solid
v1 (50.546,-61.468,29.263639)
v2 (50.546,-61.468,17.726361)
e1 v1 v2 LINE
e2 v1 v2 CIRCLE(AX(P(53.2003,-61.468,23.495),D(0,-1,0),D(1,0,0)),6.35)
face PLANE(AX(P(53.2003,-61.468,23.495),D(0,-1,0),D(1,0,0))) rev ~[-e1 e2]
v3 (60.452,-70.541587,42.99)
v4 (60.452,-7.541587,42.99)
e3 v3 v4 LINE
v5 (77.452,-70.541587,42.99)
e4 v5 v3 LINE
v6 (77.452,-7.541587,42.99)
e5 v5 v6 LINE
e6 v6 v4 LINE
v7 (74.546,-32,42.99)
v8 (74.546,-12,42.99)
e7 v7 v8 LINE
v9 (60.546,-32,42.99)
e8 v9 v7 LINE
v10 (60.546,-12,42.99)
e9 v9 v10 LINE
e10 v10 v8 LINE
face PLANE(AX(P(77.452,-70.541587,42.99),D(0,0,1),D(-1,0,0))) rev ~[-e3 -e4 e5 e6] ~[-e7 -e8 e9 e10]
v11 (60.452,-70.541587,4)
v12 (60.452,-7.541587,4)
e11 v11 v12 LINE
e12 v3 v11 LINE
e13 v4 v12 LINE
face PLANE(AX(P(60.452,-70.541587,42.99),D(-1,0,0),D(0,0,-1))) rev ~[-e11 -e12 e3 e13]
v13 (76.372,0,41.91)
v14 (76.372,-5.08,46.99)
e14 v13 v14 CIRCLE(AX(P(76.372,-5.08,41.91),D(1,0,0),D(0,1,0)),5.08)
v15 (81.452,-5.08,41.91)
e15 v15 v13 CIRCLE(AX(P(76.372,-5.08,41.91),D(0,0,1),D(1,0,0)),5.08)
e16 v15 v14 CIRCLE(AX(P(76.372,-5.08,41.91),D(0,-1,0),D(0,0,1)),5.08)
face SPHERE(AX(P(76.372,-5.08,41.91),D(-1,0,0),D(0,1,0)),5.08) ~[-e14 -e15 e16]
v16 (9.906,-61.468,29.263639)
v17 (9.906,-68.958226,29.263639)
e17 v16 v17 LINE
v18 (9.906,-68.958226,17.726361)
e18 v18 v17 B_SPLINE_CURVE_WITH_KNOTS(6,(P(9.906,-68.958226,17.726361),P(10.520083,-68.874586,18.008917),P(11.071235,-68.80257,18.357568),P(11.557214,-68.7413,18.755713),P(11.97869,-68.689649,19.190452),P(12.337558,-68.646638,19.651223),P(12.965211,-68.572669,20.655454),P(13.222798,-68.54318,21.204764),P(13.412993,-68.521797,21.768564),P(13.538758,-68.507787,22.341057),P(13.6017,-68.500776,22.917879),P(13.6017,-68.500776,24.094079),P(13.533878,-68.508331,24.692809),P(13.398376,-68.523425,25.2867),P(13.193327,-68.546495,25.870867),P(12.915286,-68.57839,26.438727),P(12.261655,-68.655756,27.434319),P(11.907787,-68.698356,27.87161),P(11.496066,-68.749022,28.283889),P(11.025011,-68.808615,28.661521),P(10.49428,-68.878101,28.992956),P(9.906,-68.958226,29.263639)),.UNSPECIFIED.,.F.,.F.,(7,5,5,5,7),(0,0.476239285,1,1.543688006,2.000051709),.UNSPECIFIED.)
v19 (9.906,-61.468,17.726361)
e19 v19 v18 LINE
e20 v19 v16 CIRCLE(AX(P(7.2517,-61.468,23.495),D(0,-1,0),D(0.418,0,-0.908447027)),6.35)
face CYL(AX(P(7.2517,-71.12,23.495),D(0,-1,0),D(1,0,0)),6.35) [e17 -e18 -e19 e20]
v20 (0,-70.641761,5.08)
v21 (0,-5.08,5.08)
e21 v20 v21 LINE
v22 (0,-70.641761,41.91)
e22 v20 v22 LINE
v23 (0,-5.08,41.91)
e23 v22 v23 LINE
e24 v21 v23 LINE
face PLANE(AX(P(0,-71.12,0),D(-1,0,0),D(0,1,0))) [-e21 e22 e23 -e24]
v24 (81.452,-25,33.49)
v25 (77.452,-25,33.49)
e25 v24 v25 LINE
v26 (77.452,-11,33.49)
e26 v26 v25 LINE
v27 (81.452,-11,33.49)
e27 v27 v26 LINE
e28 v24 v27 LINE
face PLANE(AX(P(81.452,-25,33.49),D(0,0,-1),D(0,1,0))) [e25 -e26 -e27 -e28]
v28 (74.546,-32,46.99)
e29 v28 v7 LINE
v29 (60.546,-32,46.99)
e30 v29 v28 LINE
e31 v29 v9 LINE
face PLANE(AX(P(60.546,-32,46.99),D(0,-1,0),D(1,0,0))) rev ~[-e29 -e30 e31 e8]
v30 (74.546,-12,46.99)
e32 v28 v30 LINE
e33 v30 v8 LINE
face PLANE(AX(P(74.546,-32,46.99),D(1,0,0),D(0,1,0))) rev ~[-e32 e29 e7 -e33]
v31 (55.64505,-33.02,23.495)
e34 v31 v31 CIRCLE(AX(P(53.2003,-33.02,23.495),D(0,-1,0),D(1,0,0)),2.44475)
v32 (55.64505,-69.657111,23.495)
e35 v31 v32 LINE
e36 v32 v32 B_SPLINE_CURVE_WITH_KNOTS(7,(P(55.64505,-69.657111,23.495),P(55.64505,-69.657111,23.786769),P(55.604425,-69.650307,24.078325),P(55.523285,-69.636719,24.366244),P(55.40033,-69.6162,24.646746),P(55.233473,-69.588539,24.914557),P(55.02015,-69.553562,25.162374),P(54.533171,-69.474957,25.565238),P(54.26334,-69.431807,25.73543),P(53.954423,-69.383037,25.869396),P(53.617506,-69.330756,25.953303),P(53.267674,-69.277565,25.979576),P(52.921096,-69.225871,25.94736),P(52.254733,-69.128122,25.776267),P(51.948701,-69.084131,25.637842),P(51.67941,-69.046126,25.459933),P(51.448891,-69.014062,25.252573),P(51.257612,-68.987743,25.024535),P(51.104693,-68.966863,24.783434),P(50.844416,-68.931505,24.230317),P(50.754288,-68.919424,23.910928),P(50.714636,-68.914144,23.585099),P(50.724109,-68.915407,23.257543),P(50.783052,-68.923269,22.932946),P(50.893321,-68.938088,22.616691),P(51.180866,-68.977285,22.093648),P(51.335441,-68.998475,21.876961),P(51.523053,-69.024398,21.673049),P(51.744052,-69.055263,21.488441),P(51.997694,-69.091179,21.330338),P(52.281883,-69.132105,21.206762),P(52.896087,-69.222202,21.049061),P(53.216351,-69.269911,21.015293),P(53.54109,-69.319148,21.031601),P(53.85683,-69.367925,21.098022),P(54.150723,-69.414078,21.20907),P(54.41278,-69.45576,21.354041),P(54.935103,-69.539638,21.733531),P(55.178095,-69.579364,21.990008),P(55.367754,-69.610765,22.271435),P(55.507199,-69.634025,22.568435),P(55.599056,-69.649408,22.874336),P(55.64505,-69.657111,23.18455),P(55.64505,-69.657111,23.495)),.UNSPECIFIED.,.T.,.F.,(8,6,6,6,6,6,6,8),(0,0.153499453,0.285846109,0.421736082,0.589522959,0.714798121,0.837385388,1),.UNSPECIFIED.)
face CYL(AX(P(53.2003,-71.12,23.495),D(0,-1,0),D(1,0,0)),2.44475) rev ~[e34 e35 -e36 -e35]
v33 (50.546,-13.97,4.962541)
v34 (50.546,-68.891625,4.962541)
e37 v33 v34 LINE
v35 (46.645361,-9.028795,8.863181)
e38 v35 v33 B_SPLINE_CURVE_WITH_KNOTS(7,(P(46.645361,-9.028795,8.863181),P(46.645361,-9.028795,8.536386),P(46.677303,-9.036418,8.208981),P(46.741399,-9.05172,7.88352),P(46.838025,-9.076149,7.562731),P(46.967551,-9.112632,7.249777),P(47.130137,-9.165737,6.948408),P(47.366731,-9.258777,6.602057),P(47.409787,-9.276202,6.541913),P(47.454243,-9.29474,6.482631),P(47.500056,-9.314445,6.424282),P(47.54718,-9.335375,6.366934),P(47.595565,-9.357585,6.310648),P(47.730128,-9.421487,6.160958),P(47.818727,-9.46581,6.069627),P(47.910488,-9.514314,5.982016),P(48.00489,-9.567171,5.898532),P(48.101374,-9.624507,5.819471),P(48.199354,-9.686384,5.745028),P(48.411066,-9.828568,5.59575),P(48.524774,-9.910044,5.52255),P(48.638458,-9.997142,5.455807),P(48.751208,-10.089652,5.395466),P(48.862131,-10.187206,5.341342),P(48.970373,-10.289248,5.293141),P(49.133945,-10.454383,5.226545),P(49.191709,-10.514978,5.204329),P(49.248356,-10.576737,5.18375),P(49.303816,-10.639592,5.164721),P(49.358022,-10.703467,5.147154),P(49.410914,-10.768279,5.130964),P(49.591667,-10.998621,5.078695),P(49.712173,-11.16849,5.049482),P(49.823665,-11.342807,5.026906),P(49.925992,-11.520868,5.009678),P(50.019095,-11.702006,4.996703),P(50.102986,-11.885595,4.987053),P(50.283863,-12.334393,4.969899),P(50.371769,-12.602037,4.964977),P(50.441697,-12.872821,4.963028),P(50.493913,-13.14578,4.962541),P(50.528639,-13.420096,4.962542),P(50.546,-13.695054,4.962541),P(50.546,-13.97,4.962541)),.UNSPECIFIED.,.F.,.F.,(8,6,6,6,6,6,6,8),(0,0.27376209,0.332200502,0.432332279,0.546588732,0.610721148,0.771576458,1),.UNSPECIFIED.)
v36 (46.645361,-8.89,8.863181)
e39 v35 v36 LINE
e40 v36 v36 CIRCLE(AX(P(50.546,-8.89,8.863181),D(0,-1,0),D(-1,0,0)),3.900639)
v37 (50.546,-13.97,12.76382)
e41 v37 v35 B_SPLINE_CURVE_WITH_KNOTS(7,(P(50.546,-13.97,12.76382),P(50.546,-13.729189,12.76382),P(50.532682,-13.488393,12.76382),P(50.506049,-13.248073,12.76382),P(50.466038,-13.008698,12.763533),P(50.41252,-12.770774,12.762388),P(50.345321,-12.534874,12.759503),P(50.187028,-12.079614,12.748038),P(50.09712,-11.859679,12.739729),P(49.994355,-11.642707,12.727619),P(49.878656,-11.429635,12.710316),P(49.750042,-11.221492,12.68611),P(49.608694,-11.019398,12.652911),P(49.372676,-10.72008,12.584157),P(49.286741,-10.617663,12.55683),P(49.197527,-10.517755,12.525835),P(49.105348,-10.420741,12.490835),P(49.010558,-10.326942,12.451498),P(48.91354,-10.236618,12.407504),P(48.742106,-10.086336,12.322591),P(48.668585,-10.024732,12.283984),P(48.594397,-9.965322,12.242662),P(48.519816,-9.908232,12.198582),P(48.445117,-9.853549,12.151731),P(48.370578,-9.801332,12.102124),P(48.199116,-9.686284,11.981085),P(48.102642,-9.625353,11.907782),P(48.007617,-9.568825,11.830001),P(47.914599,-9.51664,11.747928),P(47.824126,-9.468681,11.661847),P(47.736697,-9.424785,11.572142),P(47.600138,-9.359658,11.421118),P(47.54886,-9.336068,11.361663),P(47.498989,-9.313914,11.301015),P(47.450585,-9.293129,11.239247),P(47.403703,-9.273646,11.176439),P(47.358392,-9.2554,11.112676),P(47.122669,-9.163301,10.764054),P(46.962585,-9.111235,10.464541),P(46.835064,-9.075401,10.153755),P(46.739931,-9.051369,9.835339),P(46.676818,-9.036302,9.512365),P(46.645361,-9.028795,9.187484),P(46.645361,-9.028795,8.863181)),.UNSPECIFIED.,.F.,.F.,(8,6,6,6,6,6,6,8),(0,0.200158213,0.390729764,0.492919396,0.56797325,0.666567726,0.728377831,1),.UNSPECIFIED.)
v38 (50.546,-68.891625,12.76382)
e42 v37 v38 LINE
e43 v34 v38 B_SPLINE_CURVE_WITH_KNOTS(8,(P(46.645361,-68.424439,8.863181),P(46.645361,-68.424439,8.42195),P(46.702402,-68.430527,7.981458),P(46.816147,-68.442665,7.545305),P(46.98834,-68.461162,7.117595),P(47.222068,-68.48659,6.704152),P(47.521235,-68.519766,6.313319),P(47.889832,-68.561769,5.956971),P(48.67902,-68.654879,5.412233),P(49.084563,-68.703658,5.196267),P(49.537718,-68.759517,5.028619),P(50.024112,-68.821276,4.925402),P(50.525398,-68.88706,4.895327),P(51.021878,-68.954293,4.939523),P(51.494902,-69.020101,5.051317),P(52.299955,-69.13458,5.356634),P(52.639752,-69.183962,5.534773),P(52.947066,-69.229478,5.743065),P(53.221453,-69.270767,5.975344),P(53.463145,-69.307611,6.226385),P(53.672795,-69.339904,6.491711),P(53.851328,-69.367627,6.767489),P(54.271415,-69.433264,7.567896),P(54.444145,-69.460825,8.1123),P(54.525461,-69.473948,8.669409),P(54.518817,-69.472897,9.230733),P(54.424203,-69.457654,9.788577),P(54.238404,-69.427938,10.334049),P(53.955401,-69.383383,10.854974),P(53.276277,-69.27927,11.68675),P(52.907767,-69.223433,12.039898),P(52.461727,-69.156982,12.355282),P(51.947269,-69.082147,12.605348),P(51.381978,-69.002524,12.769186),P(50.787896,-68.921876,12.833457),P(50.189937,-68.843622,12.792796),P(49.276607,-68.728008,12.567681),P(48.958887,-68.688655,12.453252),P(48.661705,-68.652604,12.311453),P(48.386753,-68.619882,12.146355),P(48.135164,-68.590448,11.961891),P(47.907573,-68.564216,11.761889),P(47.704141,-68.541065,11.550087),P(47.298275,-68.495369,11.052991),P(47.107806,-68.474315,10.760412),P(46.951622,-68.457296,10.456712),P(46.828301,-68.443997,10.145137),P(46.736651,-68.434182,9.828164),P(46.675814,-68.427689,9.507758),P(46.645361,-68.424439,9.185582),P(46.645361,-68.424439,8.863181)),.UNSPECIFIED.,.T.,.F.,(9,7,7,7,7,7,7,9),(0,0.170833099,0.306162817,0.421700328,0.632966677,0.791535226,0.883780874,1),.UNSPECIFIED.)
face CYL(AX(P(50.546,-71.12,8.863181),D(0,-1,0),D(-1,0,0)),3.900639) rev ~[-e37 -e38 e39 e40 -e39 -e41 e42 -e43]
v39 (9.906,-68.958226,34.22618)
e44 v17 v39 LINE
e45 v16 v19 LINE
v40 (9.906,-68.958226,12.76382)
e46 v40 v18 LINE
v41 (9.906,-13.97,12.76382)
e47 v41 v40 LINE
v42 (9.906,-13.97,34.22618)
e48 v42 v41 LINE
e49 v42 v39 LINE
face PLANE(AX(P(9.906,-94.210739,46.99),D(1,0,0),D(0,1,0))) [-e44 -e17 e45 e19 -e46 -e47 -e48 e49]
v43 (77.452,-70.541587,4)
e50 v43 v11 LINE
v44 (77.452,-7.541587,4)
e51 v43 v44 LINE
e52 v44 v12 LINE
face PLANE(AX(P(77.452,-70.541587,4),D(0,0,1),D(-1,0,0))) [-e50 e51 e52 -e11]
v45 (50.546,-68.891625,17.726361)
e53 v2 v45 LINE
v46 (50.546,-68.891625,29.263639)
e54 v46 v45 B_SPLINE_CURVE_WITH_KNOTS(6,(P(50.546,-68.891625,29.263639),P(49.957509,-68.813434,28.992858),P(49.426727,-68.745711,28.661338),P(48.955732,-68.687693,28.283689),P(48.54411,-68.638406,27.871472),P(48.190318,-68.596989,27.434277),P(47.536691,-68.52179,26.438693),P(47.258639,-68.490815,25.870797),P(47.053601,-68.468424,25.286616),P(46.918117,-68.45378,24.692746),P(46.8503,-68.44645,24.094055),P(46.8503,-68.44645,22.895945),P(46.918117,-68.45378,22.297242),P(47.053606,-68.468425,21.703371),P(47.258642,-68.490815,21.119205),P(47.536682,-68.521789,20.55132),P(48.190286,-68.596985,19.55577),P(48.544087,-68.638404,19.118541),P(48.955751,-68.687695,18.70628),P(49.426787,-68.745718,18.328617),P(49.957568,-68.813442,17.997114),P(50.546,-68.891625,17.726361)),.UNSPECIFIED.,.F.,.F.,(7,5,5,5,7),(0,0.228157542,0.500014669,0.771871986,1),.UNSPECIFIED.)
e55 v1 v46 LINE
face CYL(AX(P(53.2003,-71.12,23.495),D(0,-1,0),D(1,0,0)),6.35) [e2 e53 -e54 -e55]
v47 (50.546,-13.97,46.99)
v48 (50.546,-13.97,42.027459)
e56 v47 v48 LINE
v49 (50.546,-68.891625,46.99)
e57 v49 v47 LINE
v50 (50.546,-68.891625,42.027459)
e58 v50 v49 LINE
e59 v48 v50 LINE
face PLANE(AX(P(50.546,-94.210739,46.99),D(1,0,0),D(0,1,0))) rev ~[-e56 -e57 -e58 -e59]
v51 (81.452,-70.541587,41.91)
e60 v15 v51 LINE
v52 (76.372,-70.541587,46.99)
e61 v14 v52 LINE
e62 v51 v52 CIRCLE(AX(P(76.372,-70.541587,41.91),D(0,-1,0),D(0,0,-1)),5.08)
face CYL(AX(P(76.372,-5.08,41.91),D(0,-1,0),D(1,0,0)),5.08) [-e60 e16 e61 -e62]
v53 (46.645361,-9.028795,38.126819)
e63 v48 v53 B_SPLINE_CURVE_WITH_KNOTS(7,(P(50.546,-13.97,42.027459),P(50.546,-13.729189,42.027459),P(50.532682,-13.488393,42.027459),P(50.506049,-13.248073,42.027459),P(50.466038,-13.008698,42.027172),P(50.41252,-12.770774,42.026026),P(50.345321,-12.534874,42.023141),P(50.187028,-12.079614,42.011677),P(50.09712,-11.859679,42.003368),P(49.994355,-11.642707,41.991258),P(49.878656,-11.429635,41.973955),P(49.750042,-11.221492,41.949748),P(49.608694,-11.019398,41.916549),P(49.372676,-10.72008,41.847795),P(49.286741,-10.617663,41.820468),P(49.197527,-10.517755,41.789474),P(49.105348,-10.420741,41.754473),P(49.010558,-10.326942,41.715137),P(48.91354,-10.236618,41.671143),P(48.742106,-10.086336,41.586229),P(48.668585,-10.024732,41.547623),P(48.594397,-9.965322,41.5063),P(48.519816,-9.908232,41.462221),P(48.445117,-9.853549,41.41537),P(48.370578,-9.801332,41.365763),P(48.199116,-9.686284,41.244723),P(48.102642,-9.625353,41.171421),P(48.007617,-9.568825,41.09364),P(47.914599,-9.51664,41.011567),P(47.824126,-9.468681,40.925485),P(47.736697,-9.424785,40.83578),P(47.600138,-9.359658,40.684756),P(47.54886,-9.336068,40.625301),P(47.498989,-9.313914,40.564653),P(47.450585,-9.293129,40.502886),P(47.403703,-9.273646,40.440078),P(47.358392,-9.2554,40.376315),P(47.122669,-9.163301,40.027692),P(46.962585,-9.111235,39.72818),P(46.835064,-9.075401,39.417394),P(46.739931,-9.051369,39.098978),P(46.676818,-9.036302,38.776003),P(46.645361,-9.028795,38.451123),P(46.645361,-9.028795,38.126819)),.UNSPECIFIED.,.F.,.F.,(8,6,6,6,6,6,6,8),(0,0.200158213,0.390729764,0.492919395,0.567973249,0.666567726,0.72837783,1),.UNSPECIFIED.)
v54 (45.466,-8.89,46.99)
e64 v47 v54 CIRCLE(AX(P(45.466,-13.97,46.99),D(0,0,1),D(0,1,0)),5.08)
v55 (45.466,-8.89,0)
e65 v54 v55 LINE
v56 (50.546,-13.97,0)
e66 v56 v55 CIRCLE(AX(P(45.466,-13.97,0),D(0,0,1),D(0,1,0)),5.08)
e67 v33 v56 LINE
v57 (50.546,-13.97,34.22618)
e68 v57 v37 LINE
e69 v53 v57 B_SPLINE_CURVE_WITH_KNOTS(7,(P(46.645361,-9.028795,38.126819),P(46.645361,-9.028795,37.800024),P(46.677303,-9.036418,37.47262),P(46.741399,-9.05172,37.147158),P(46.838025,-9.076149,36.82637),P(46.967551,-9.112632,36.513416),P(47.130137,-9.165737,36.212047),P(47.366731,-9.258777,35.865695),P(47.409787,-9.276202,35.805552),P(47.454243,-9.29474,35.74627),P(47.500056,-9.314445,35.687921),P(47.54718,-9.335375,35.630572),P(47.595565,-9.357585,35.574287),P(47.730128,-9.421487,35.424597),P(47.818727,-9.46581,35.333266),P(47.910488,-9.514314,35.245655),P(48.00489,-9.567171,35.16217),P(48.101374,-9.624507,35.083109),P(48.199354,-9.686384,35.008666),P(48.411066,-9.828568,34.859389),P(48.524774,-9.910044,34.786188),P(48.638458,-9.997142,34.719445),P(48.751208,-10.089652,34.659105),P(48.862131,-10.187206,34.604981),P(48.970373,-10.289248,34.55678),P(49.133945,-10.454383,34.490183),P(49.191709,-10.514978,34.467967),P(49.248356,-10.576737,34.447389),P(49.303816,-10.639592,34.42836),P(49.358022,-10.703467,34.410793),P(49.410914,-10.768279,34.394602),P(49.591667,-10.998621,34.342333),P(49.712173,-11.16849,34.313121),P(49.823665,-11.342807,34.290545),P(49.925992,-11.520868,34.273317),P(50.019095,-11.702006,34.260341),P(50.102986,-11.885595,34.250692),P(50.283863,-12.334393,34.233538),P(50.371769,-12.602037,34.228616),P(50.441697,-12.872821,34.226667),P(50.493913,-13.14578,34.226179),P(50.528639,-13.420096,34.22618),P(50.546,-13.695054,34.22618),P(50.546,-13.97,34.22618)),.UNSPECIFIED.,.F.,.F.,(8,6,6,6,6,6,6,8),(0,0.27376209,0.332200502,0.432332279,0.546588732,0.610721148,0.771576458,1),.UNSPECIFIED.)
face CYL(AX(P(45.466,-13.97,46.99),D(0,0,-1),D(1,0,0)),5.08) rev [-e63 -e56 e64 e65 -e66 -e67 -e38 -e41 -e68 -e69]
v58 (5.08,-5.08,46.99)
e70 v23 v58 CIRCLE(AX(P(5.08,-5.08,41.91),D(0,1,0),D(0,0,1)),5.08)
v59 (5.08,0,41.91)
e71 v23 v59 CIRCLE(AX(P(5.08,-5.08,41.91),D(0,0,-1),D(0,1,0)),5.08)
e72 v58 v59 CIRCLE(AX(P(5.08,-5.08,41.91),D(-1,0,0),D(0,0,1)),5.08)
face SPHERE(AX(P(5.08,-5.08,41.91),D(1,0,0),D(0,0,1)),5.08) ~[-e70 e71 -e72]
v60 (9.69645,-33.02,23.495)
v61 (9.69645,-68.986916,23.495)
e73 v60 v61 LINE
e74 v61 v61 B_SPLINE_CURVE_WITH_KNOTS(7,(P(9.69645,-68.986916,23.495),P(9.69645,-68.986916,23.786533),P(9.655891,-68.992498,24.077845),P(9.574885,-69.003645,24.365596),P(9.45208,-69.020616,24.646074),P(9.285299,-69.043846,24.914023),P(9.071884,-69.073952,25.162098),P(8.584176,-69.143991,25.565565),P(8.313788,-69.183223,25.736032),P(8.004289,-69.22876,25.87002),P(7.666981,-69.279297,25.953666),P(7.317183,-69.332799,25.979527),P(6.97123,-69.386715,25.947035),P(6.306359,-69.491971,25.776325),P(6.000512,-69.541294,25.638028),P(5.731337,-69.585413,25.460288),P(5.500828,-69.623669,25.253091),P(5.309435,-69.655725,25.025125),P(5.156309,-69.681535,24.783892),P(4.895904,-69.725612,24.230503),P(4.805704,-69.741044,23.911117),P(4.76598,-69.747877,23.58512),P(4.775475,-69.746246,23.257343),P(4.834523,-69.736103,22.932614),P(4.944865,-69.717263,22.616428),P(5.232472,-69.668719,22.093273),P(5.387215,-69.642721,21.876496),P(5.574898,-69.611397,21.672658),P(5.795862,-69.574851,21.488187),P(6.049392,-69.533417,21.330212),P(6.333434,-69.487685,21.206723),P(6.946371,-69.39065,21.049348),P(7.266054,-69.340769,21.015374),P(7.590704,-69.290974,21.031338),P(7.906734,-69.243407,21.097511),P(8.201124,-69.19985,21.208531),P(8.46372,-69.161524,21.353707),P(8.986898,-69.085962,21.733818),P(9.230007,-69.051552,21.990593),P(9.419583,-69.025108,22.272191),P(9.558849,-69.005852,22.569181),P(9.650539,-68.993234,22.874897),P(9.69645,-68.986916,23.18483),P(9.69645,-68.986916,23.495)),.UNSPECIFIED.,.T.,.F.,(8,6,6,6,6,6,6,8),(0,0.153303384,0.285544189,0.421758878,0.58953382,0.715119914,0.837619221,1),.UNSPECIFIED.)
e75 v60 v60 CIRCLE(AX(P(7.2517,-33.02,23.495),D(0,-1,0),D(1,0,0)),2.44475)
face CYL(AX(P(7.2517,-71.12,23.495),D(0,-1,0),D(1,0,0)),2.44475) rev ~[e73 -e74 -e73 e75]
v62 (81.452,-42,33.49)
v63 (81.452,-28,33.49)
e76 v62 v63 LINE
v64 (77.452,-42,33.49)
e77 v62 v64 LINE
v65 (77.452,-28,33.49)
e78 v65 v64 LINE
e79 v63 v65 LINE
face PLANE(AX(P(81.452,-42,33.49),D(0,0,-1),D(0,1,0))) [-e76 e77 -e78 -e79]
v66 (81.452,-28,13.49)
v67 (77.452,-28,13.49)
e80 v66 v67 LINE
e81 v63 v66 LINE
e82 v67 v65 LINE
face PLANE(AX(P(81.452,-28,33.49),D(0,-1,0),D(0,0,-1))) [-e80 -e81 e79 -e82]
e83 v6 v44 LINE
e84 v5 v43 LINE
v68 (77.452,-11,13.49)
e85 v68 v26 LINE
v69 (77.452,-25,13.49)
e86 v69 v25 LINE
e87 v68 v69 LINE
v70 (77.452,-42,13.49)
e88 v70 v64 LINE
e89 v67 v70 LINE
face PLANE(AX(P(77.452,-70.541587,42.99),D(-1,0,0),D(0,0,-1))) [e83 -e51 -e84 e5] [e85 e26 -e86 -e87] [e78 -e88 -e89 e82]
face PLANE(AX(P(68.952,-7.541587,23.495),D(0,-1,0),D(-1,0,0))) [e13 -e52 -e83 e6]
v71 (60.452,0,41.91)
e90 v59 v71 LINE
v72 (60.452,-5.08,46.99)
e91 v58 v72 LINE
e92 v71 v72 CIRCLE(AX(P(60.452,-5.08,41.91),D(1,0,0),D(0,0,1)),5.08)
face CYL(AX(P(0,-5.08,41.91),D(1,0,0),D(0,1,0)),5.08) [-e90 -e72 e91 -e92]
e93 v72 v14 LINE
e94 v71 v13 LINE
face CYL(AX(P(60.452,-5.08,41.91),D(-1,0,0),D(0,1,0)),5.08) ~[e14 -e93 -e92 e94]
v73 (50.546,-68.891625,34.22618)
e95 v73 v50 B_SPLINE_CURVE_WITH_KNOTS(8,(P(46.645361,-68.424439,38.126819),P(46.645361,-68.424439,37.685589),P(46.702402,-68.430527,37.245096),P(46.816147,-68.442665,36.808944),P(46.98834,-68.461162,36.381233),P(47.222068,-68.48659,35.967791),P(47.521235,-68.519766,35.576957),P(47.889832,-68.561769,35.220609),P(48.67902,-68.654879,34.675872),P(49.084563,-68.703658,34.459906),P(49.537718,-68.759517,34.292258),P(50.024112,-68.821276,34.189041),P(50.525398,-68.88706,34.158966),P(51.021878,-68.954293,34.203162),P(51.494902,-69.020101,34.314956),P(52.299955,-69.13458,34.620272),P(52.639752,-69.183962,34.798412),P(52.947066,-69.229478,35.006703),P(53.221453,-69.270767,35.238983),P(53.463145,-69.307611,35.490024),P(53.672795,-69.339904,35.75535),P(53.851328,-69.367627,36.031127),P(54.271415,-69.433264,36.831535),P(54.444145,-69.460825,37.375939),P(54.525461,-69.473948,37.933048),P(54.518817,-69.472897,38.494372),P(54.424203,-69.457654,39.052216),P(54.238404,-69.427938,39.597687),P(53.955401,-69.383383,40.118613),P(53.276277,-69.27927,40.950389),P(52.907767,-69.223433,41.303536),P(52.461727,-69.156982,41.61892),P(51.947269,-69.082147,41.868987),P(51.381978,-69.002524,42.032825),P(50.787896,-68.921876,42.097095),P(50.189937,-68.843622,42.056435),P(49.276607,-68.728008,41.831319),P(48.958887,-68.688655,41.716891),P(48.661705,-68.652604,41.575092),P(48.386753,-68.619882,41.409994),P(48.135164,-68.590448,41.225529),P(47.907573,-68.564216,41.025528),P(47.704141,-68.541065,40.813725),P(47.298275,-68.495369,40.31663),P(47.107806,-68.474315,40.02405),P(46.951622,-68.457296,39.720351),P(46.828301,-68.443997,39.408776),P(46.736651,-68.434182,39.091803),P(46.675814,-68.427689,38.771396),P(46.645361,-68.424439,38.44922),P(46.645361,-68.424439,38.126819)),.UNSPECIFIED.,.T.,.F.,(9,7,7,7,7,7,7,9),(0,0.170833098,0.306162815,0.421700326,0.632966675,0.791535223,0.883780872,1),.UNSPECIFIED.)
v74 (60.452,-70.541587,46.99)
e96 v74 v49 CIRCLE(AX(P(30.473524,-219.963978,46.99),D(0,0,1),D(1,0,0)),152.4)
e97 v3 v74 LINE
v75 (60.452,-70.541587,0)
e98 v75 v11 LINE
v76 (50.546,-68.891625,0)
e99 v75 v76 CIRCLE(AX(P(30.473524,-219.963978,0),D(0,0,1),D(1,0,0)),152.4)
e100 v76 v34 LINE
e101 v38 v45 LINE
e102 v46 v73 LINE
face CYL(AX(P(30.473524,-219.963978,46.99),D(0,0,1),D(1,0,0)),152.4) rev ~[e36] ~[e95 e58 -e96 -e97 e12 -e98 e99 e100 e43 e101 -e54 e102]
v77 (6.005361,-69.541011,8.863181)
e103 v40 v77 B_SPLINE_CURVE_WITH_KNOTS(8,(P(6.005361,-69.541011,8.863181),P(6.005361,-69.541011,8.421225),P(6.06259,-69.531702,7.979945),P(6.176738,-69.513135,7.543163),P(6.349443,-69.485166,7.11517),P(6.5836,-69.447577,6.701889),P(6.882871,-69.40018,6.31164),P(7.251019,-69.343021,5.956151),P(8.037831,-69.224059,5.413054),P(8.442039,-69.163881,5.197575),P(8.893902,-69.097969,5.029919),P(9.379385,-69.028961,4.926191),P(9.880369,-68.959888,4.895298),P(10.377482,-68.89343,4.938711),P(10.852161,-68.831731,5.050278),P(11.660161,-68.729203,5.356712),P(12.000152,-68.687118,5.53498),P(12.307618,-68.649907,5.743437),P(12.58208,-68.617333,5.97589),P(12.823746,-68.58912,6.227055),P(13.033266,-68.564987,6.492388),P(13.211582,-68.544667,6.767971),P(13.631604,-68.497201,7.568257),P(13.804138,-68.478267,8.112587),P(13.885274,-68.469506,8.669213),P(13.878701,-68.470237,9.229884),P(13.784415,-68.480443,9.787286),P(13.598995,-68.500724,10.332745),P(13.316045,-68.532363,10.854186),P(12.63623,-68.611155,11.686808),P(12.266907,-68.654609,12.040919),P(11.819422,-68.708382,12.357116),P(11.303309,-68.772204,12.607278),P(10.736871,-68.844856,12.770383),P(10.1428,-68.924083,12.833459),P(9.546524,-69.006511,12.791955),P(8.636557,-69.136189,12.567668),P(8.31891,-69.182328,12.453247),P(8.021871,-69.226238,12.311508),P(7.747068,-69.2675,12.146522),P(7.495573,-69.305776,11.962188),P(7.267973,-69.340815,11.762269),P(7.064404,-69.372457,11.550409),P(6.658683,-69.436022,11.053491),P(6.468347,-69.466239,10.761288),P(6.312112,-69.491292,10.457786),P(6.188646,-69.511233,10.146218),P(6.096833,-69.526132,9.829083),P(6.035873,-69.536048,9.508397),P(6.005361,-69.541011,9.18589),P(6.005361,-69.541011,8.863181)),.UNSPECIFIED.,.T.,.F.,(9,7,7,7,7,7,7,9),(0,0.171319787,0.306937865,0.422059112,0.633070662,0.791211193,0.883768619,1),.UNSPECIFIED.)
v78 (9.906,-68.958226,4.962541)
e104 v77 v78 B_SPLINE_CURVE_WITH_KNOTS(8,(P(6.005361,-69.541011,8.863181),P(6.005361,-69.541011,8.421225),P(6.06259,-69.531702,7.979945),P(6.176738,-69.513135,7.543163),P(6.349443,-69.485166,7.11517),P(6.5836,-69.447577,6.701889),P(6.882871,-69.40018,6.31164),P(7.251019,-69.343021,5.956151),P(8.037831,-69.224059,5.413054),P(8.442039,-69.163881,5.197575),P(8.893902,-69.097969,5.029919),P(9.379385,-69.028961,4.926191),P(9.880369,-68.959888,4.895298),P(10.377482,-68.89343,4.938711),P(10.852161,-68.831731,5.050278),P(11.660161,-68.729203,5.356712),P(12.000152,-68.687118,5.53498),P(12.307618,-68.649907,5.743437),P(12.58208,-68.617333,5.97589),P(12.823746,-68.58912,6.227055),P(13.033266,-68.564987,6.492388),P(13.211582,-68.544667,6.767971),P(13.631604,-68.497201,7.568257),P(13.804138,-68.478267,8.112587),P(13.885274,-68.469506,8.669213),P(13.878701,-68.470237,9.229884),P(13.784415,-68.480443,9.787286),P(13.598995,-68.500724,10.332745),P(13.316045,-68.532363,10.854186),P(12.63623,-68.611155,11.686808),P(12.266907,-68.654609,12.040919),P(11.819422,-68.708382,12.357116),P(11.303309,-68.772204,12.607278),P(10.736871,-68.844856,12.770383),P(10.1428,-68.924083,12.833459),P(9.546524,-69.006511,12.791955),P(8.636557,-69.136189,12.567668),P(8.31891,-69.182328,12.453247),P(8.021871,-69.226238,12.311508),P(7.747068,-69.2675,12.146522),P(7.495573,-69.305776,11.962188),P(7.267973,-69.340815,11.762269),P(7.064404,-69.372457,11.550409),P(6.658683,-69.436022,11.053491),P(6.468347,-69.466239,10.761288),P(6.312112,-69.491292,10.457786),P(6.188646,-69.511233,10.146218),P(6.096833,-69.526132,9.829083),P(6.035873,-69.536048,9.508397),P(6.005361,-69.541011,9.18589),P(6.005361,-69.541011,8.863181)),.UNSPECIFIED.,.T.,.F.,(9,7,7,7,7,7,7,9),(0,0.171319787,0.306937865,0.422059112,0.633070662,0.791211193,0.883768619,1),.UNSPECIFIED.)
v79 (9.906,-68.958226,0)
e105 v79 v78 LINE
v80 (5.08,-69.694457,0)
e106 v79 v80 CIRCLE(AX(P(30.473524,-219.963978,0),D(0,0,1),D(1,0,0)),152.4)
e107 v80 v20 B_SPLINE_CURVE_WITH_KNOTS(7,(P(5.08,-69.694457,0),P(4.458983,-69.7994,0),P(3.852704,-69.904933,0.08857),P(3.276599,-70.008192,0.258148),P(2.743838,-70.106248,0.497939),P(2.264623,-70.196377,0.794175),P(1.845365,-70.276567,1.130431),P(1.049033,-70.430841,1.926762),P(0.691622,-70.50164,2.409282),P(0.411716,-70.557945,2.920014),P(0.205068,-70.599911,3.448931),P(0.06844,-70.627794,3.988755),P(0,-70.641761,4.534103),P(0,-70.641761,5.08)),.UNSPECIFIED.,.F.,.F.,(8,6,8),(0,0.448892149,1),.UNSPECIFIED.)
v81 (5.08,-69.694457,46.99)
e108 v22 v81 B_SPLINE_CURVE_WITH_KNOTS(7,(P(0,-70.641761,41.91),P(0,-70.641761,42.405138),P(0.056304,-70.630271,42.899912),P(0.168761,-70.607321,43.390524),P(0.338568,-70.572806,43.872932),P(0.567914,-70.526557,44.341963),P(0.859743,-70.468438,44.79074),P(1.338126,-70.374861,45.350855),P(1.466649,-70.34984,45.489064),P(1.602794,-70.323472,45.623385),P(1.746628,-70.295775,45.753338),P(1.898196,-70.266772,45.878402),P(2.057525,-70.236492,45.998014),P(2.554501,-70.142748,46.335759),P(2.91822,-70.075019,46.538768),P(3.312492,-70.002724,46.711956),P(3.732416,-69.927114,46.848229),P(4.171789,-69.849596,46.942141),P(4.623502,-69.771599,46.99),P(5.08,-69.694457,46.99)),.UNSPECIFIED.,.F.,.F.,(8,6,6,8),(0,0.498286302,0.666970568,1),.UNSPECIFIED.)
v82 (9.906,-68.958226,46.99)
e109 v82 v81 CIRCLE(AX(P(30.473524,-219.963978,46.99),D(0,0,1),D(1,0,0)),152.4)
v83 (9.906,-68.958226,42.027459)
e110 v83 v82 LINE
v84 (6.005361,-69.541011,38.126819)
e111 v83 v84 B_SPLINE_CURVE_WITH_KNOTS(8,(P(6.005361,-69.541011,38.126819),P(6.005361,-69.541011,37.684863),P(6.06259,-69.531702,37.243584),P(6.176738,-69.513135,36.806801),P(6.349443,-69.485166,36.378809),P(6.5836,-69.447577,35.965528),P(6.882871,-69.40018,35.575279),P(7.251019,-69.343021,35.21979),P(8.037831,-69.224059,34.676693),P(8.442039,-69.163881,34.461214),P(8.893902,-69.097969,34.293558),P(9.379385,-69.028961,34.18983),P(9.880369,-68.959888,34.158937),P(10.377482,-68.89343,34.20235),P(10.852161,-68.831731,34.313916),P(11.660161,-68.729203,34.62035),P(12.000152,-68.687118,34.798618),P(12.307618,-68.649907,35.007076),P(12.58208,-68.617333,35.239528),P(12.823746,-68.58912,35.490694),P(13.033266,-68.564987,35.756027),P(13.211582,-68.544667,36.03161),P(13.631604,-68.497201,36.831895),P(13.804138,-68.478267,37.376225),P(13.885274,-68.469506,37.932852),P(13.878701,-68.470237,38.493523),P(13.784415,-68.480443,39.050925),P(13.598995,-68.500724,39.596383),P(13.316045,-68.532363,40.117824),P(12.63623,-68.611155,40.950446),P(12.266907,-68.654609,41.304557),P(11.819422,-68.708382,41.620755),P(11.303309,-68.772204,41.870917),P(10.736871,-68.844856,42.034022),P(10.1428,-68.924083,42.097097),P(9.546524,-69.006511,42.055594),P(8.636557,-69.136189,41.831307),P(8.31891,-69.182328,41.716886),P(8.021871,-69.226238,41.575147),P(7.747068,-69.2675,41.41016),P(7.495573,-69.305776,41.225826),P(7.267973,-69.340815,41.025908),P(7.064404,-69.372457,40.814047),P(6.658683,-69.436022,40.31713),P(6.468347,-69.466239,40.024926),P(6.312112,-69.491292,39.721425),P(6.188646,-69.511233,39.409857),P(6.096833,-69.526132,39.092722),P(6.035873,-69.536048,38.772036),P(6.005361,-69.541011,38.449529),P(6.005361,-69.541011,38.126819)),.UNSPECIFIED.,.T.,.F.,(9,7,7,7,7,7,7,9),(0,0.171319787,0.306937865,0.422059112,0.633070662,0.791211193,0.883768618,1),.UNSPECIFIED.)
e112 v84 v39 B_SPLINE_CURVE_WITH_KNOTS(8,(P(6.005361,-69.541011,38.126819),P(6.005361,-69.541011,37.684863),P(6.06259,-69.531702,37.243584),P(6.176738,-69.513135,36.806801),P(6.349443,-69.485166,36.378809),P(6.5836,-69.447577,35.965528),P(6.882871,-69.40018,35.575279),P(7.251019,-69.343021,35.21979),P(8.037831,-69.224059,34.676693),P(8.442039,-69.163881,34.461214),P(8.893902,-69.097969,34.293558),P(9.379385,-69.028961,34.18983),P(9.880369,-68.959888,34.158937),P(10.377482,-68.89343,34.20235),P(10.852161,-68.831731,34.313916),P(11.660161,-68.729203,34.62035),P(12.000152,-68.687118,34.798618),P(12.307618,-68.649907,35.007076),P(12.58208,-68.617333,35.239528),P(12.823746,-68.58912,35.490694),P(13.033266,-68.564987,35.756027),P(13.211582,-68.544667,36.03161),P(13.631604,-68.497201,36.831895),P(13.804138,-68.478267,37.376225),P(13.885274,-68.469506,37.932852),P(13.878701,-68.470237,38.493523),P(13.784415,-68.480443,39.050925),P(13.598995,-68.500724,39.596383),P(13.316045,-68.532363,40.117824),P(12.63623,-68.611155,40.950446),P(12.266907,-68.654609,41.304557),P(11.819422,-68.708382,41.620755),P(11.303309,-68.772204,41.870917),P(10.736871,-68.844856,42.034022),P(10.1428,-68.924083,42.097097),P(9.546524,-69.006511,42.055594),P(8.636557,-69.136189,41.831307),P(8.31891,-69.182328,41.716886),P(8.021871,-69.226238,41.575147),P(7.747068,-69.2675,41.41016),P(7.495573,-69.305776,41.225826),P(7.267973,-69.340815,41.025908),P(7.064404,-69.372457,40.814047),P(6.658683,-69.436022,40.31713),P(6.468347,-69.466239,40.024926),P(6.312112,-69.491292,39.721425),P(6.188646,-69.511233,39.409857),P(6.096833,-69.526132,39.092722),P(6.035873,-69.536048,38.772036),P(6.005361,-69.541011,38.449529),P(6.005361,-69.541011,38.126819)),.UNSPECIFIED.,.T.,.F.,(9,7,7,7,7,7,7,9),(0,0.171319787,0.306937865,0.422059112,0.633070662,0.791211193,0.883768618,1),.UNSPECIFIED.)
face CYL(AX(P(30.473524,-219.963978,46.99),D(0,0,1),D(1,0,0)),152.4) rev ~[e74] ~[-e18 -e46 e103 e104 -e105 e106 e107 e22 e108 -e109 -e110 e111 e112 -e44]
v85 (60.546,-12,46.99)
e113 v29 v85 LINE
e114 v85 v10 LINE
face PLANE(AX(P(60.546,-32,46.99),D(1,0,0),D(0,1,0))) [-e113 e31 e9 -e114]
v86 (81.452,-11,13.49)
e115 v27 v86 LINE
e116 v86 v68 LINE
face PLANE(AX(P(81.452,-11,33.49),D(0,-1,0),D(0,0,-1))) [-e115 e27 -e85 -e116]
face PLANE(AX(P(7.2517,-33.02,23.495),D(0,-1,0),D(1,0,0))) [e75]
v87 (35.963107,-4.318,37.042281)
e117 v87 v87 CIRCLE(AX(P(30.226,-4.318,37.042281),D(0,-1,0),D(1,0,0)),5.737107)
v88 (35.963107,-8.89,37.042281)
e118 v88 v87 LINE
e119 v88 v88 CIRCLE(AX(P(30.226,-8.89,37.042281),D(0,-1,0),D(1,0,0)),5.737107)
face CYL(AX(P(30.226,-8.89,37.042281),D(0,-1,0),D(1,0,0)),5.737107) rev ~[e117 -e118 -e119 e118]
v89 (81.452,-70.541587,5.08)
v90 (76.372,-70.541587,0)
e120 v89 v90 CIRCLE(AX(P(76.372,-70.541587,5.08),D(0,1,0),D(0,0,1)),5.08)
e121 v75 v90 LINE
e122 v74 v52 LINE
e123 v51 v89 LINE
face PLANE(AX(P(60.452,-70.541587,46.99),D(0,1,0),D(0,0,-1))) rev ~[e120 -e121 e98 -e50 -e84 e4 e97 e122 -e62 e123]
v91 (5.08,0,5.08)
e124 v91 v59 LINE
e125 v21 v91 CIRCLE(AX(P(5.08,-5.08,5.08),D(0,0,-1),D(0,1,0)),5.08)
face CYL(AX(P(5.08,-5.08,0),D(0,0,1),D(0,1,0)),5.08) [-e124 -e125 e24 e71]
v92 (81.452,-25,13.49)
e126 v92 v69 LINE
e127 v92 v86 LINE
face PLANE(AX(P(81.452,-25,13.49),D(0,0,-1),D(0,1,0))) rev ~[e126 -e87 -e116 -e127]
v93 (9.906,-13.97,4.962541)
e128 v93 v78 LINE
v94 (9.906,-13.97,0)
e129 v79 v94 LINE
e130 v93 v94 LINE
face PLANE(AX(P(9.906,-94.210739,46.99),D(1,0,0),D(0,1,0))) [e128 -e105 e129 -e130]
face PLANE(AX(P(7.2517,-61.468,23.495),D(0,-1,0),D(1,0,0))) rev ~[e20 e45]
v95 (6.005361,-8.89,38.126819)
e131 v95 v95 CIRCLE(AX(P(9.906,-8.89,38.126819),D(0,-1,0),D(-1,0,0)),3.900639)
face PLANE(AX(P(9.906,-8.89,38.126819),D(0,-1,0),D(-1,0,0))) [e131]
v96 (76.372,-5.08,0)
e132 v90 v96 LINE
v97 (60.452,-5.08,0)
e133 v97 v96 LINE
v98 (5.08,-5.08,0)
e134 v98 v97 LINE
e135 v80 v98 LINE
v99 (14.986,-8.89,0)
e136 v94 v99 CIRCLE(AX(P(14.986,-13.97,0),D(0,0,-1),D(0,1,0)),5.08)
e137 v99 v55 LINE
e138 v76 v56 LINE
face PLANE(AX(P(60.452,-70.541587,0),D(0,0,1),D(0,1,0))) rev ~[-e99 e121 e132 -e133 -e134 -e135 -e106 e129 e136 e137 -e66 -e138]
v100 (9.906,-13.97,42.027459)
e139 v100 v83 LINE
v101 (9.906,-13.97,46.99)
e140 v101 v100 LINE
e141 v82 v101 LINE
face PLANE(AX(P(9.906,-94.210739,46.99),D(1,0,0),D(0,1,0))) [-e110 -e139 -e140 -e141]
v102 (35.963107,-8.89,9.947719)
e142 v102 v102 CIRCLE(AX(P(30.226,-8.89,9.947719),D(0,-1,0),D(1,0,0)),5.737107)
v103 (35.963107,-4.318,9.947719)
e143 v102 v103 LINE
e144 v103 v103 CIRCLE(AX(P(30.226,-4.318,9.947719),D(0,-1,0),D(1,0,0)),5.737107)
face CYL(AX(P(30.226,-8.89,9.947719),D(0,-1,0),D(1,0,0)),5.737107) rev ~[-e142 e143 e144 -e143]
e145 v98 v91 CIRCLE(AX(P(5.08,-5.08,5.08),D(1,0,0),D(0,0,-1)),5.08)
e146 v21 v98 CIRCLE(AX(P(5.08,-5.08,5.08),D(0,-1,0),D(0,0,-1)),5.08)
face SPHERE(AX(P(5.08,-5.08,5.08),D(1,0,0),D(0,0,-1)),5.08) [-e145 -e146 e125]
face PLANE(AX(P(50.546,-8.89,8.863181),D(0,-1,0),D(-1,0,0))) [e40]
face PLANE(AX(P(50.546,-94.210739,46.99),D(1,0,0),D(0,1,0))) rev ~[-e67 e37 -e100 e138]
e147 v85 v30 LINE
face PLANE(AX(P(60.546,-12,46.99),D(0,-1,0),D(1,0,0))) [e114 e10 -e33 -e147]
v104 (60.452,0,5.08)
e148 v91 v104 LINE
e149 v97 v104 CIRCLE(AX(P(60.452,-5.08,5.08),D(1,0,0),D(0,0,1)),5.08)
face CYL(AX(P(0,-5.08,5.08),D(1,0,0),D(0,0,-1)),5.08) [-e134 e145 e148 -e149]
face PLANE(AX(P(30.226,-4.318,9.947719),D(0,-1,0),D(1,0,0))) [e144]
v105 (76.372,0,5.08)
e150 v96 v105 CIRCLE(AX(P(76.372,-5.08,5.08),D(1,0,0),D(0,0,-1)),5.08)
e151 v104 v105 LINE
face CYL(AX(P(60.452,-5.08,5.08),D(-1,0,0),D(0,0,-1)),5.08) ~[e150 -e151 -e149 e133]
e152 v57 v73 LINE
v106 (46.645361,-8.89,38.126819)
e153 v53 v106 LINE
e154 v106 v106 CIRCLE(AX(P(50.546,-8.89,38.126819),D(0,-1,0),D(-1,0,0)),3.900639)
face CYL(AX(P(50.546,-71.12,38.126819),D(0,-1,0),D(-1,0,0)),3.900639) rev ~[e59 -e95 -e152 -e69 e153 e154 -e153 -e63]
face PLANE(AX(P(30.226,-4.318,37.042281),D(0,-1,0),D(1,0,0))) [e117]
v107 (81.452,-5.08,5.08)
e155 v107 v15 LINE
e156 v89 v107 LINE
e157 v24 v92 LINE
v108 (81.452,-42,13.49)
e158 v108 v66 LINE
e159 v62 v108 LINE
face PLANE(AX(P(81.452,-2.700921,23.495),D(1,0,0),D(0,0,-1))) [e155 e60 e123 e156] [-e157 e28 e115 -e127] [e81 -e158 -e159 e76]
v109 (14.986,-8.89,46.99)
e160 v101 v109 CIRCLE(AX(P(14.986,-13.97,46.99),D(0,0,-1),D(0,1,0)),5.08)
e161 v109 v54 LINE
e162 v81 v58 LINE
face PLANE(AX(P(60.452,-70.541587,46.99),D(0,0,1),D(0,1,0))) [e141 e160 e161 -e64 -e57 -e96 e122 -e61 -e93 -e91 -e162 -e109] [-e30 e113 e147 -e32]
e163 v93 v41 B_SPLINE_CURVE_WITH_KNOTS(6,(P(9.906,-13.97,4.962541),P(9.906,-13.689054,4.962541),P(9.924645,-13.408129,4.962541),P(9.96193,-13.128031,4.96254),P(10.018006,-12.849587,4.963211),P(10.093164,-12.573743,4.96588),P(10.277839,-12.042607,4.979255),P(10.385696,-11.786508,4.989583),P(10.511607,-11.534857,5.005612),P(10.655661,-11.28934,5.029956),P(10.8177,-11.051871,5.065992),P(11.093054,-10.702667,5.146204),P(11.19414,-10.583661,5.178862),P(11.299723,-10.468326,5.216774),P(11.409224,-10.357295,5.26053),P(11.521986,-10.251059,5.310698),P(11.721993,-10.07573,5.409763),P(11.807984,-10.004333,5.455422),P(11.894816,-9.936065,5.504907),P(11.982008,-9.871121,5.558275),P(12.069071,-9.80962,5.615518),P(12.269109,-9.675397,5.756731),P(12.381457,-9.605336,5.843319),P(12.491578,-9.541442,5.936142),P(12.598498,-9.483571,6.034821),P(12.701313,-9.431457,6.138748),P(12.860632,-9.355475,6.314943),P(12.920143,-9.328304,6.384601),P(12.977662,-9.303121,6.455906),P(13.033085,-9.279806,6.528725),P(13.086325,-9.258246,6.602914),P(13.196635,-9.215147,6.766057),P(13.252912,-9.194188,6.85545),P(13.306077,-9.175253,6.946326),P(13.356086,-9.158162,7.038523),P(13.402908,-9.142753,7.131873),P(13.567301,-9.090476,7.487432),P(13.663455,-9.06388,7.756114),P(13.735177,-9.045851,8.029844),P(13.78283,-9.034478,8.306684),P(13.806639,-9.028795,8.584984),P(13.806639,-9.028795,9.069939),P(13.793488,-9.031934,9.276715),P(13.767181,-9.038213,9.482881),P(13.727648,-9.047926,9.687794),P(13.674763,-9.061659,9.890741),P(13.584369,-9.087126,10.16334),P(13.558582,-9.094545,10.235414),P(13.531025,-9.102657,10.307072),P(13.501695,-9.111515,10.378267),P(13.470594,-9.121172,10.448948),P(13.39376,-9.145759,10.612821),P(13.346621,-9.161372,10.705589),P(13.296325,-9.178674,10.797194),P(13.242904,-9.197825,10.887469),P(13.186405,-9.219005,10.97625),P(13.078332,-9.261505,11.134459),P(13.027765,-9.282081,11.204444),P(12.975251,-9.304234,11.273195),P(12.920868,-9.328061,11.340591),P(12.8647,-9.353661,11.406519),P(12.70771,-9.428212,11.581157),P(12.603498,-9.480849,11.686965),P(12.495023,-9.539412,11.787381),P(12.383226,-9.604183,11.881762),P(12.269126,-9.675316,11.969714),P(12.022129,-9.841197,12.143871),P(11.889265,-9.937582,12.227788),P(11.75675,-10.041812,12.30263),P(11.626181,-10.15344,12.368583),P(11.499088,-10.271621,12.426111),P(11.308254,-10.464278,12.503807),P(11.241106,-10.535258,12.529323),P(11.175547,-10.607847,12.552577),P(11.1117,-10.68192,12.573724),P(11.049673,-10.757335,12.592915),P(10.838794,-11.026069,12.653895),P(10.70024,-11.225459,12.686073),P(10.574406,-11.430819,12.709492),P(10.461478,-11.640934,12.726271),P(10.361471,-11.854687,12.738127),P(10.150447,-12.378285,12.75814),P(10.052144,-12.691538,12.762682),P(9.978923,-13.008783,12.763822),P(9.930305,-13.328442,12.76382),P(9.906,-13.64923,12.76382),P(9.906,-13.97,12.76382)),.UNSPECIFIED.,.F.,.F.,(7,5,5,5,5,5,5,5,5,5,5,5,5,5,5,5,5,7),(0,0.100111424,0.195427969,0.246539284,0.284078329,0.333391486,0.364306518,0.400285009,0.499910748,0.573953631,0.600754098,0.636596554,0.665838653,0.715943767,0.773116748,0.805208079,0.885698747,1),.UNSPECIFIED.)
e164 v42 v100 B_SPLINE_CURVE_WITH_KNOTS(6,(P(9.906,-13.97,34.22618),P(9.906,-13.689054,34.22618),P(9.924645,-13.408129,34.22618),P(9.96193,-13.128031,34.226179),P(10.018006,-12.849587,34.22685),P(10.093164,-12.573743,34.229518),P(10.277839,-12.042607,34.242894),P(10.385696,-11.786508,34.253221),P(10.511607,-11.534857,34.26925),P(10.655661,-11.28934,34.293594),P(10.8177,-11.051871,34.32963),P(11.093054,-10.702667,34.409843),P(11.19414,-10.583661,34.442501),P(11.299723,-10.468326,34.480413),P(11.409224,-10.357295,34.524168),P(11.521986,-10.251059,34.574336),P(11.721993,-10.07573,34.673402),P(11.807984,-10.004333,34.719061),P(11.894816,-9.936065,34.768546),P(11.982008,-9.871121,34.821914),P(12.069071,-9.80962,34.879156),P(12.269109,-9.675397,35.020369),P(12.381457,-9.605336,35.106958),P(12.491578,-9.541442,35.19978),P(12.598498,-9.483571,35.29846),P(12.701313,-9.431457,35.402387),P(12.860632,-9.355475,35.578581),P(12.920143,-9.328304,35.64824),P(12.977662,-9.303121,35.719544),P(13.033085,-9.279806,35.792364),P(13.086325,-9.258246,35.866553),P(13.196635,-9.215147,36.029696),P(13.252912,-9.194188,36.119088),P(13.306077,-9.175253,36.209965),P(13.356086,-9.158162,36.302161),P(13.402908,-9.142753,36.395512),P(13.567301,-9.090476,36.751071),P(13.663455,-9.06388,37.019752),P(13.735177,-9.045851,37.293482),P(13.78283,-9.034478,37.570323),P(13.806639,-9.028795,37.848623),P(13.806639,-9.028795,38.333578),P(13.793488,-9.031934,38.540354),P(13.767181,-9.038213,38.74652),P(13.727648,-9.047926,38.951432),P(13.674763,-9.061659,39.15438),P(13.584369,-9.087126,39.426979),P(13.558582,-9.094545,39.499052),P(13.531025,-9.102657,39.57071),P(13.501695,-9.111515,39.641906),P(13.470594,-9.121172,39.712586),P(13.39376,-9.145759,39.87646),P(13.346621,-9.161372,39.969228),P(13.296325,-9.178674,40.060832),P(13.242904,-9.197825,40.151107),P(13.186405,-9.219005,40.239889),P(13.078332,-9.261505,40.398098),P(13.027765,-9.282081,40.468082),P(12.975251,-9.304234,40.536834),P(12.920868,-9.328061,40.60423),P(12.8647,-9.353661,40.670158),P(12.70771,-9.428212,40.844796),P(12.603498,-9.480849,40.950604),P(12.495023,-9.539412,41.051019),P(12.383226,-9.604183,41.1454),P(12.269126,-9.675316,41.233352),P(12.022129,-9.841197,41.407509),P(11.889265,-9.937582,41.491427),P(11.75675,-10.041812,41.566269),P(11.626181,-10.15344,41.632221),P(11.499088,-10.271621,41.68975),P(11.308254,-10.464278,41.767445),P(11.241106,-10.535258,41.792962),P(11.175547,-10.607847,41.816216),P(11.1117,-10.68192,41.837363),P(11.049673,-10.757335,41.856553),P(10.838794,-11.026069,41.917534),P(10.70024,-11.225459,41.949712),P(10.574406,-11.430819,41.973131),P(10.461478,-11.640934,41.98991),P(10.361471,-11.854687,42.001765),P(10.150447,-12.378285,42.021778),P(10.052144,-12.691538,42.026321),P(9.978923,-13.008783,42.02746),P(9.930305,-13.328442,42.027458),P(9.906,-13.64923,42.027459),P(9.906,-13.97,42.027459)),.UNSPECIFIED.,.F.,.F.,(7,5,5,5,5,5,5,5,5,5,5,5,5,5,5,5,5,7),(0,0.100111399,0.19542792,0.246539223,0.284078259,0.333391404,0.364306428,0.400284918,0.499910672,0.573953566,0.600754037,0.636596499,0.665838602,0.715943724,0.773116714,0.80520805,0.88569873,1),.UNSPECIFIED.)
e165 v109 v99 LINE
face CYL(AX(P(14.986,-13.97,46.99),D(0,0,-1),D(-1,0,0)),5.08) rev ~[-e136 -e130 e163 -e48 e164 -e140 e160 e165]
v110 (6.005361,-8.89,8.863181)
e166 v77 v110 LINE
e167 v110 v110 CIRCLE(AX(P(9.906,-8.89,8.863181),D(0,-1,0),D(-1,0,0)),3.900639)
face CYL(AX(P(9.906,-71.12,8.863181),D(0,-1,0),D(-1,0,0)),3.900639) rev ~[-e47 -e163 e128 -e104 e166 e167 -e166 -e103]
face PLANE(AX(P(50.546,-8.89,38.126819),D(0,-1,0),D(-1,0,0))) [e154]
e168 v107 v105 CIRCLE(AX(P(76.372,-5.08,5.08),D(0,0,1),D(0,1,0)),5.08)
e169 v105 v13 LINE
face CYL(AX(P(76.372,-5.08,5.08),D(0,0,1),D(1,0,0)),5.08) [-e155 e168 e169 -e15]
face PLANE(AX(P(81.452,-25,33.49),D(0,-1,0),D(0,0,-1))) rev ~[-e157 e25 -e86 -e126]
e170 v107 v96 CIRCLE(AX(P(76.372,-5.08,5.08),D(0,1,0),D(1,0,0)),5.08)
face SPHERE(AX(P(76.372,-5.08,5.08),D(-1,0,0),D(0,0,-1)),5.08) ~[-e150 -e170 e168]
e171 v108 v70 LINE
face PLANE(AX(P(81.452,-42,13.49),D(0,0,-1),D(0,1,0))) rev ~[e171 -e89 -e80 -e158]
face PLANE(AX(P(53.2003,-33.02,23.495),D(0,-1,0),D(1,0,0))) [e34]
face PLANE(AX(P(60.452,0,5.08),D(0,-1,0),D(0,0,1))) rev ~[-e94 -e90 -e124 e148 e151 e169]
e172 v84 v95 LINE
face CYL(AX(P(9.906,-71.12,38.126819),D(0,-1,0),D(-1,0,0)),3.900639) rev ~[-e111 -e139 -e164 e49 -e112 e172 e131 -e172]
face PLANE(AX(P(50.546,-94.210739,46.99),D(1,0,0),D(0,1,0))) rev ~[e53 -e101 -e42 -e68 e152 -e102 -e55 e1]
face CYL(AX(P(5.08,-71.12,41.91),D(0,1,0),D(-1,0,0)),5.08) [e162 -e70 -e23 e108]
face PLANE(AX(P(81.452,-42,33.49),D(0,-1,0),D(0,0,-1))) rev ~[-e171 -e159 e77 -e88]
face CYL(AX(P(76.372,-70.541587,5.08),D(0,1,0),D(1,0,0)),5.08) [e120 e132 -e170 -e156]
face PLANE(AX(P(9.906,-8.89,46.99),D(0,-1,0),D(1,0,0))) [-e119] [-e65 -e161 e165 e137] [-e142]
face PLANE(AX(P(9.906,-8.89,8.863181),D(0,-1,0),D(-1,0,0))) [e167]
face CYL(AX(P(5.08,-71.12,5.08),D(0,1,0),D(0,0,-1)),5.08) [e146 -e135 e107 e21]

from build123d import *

# Parameters (mm, degrees)
SKETCH1_W           = 60.452
SKETCH1_H           = 71.12
BOSS_EXTRUDE1_DEPTH = 46.99
SKETCH2_W           = 40.64
SKETCH2_H           = 85.320739167
CUT_EXTRUDE1_DEPTH  = 46.99
SKETCH3_R           = 2.44475
CUT_EXTRUDE2_DEPTH  = 30.734
SKETCH5_R           = 6.35
BOSS_EXTRUDE4_DEPTH = 9.652
SKETCH3_5_R         = 2.44475
CUT_EXTRUDE3_DEPTH  = 38.1
FILLET1_R           = 5.08
SKETCH9_R           = 5.737107227
CUT_EXTRUDE6_DEPTH  = 4.572
SKETCH10_R          = 3.900639461
CUT_EXTRUDE10_DEPTH = 62.23
SKETCH8_R           = 152.4
CUT_EXTRUDE11_DEPTH = 55.372
SKETCH11_W          = 46.99
SKETCH11_H          = 65.461586673
BOSS_EXTRUDE6_DEPTH = 21
SKETCH12_W          = 17
SKETCH12_H          = 38.99
CUT_EXTRUDE12_DEPTH = 63
FILLET2_R           = 5.08
SKETCH25_W          = 20
SKETCH25_H          = 14
CUT_EXTRUDE13_DEPTH = 10
SKETCH26_W          = 14
SKETCH26_H          = 20
CUT_EXTRUDE14_DEPTH = 10


with BuildPart() as part:
    # Sketch1 → Boss-Extrude1 (new body)
    with BuildSketch(Plane.XY):
        with Locations((30.226, -35.56)):
            Rectangle(SKETCH1_W, SKETCH1_H)
    extrude(amount=BOSS_EXTRUDE1_DEPTH)

    # Sketch2 → Cut-Extrude1 (cut)
    with BuildSketch(Plane.XY.offset(46.99)):
        with Locations((30.226, -51.550369584)):
            Rectangle(SKETCH2_W, SKETCH2_H)
    extrude(amount=-CUT_EXTRUDE1_DEPTH, mode=Mode.SUBTRACT)

    # Sketch3 → Cut-Extrude2 (cut)
    with BuildSketch(Plane.XZ.offset(71.12)):
        with Locations((53.2003, 23.495)):
            Circle(SKETCH3_R)
        with Locations((7.2517, 23.495)):
            Circle(SKETCH3_R)
    extrude(amount=-CUT_EXTRUDE2_DEPTH, mode=Mode.SUBTRACT)

    # Sketch5 → Boss-Extrude4 (add)
    with BuildSketch(Plane.XZ.offset(71.12)):
        with Locations((7.2517, 23.495)):
            Circle(SKETCH5_R)
        with Locations((53.2003, 23.495)):
            Circle(SKETCH5_R)
    extrude(amount=-BOSS_EXTRUDE4_DEPTH)

    # Sketch3<5> → Cut-Extrude3 (cut)
    with BuildSketch(Plane.XZ.offset(71.12)):
        with Locations((53.2003, 23.495)):
            Circle(SKETCH3_5_R)
        with Locations((7.2517, 23.495)):
            Circle(SKETCH3_5_R)
    extrude(amount=-CUT_EXTRUDE3_DEPTH, mode=Mode.SUBTRACT)

    # Fillet1
    fillet1_edges = [part.edges().sort_by_distance(p)[0] for p in [
        (30.226, 0, 46.99),
        (50.546, -8.89, 23.495),
        (9.906, -8.89, 23.495),
        (0, -35.56, 46.99),
        (30.226, 0, 0),
        (0, -35.56, 0),
        (0, 0, 23.495),
    ]]
    fillet(fillet1_edges, radius=FILLET1_R)

    # Sketch9 → Cut-Extrude6 (cut)
    with BuildSketch(Plane.XZ.offset(8.89)):
        with Locations((30.226, 37.042280921)):
            Circle(SKETCH9_R)
        with Locations((30.226, 9.947719079)):
            Circle(SKETCH9_R)
    extrude(amount=-CUT_EXTRUDE6_DEPTH, mode=Mode.SUBTRACT)

    # Sketch10 → Cut-Extrude10 (cut)
    with BuildSketch(Plane(origin=(0, -71.12, 0), x_dir=(-1, 0, 0), z_dir=(0, -1, 0))):
        with Locations((-9.906, -38.126819309)):
            Circle(SKETCH10_R)
        with Locations((-9.906, -8.863180691)):
            Circle(SKETCH10_R)
        with Locations((-50.546, -38.126819309)):
            Circle(SKETCH10_R)
        with Locations((-50.546, -8.863180691)):
            Circle(SKETCH10_R)
    extrude(amount=-CUT_EXTRUDE10_DEPTH, mode=Mode.SUBTRACT)

    # Sketch8 → Cut-Extrude11 (cut)
    with BuildSketch(Plane.XY.offset(46.99)):
        with Locations((30.473524119, -219.963977846)):
            Circle(SKETCH8_R)
    extrude(amount=-CUT_EXTRUDE11_DEPTH, mode=Mode.SUBTRACT)

    # Sketch11 → Boss-Extrude6 (add)
    with BuildSketch(Plane(origin=(60.452, 0, 0), x_dir=(0, 0, -1), z_dir=(1, 0, 0))):
        with BuildLine():
            Line((-46.99, -5.08), (0, -5.08))
            ThreePointArc((0, -5.08), (-1.487897552, -1.487897552), (-5.08, 0))
            Line((-5.08, 0), (-41.91, 0))
            ThreePointArc((-41.91, 0), (-45.502102448, -1.487897552), (-46.99, -5.08))
        make_face()
        with Locations((-23.495, -37.810793336)):
            Rectangle(SKETCH11_W, SKETCH11_H)
    extrude(amount=BOSS_EXTRUDE6_DEPTH)

    # Sketch12 → Cut-Extrude12 (cut)
    with BuildSketch(Plane(origin=(0, -70.541586673, 0), x_dir=(-1, 0, 0), z_dir=(0, -1, 0))):
        with Locations((-68.952, -23.495)):
            Rectangle(SKETCH12_W, SKETCH12_H)
    extrude(amount=-CUT_EXTRUDE12_DEPTH, mode=Mode.SUBTRACT)

    # Fillet2
    fillet2_edges = [part.edges().sort_by_distance(p)[0] for p in [
        (81.452, -1.487897552, 45.502102448),
        (81.452, -37.810793337, 46.99),
        (81.452, -37.810793337, 0),
        (81.452, -1.487897552, 1.487897552),
        (81.452, 0, 23.495),
    ]]
    fillet(fillet2_edges, radius=FILLET2_R)

    # Sketch25 → Cut-Extrude13 (cut)
    with BuildSketch(Plane(origin=(81.452, 0, 0), x_dir=(0, 0, -1), z_dir=(1, 0, 0))):
        with Locations((-23.49, -18)):
            Rectangle(SKETCH25_W, SKETCH25_H)
        with Locations((-23.49, -35)):
            Rectangle(SKETCH25_W, SKETCH25_H)
    extrude(amount=-CUT_EXTRUDE13_DEPTH, mode=Mode.SUBTRACT)

    # Sketch26 → Cut-Extrude14 (cut)
    with BuildSketch(Plane.XY.offset(46.99)):
        with Locations((67.546, -22)):
            Rectangle(SKETCH26_W, SKETCH26_H)
    extrude(amount=-CUT_EXTRUDE14_DEPTH, mode=Mode.SUBTRACT)


solid = part.part
